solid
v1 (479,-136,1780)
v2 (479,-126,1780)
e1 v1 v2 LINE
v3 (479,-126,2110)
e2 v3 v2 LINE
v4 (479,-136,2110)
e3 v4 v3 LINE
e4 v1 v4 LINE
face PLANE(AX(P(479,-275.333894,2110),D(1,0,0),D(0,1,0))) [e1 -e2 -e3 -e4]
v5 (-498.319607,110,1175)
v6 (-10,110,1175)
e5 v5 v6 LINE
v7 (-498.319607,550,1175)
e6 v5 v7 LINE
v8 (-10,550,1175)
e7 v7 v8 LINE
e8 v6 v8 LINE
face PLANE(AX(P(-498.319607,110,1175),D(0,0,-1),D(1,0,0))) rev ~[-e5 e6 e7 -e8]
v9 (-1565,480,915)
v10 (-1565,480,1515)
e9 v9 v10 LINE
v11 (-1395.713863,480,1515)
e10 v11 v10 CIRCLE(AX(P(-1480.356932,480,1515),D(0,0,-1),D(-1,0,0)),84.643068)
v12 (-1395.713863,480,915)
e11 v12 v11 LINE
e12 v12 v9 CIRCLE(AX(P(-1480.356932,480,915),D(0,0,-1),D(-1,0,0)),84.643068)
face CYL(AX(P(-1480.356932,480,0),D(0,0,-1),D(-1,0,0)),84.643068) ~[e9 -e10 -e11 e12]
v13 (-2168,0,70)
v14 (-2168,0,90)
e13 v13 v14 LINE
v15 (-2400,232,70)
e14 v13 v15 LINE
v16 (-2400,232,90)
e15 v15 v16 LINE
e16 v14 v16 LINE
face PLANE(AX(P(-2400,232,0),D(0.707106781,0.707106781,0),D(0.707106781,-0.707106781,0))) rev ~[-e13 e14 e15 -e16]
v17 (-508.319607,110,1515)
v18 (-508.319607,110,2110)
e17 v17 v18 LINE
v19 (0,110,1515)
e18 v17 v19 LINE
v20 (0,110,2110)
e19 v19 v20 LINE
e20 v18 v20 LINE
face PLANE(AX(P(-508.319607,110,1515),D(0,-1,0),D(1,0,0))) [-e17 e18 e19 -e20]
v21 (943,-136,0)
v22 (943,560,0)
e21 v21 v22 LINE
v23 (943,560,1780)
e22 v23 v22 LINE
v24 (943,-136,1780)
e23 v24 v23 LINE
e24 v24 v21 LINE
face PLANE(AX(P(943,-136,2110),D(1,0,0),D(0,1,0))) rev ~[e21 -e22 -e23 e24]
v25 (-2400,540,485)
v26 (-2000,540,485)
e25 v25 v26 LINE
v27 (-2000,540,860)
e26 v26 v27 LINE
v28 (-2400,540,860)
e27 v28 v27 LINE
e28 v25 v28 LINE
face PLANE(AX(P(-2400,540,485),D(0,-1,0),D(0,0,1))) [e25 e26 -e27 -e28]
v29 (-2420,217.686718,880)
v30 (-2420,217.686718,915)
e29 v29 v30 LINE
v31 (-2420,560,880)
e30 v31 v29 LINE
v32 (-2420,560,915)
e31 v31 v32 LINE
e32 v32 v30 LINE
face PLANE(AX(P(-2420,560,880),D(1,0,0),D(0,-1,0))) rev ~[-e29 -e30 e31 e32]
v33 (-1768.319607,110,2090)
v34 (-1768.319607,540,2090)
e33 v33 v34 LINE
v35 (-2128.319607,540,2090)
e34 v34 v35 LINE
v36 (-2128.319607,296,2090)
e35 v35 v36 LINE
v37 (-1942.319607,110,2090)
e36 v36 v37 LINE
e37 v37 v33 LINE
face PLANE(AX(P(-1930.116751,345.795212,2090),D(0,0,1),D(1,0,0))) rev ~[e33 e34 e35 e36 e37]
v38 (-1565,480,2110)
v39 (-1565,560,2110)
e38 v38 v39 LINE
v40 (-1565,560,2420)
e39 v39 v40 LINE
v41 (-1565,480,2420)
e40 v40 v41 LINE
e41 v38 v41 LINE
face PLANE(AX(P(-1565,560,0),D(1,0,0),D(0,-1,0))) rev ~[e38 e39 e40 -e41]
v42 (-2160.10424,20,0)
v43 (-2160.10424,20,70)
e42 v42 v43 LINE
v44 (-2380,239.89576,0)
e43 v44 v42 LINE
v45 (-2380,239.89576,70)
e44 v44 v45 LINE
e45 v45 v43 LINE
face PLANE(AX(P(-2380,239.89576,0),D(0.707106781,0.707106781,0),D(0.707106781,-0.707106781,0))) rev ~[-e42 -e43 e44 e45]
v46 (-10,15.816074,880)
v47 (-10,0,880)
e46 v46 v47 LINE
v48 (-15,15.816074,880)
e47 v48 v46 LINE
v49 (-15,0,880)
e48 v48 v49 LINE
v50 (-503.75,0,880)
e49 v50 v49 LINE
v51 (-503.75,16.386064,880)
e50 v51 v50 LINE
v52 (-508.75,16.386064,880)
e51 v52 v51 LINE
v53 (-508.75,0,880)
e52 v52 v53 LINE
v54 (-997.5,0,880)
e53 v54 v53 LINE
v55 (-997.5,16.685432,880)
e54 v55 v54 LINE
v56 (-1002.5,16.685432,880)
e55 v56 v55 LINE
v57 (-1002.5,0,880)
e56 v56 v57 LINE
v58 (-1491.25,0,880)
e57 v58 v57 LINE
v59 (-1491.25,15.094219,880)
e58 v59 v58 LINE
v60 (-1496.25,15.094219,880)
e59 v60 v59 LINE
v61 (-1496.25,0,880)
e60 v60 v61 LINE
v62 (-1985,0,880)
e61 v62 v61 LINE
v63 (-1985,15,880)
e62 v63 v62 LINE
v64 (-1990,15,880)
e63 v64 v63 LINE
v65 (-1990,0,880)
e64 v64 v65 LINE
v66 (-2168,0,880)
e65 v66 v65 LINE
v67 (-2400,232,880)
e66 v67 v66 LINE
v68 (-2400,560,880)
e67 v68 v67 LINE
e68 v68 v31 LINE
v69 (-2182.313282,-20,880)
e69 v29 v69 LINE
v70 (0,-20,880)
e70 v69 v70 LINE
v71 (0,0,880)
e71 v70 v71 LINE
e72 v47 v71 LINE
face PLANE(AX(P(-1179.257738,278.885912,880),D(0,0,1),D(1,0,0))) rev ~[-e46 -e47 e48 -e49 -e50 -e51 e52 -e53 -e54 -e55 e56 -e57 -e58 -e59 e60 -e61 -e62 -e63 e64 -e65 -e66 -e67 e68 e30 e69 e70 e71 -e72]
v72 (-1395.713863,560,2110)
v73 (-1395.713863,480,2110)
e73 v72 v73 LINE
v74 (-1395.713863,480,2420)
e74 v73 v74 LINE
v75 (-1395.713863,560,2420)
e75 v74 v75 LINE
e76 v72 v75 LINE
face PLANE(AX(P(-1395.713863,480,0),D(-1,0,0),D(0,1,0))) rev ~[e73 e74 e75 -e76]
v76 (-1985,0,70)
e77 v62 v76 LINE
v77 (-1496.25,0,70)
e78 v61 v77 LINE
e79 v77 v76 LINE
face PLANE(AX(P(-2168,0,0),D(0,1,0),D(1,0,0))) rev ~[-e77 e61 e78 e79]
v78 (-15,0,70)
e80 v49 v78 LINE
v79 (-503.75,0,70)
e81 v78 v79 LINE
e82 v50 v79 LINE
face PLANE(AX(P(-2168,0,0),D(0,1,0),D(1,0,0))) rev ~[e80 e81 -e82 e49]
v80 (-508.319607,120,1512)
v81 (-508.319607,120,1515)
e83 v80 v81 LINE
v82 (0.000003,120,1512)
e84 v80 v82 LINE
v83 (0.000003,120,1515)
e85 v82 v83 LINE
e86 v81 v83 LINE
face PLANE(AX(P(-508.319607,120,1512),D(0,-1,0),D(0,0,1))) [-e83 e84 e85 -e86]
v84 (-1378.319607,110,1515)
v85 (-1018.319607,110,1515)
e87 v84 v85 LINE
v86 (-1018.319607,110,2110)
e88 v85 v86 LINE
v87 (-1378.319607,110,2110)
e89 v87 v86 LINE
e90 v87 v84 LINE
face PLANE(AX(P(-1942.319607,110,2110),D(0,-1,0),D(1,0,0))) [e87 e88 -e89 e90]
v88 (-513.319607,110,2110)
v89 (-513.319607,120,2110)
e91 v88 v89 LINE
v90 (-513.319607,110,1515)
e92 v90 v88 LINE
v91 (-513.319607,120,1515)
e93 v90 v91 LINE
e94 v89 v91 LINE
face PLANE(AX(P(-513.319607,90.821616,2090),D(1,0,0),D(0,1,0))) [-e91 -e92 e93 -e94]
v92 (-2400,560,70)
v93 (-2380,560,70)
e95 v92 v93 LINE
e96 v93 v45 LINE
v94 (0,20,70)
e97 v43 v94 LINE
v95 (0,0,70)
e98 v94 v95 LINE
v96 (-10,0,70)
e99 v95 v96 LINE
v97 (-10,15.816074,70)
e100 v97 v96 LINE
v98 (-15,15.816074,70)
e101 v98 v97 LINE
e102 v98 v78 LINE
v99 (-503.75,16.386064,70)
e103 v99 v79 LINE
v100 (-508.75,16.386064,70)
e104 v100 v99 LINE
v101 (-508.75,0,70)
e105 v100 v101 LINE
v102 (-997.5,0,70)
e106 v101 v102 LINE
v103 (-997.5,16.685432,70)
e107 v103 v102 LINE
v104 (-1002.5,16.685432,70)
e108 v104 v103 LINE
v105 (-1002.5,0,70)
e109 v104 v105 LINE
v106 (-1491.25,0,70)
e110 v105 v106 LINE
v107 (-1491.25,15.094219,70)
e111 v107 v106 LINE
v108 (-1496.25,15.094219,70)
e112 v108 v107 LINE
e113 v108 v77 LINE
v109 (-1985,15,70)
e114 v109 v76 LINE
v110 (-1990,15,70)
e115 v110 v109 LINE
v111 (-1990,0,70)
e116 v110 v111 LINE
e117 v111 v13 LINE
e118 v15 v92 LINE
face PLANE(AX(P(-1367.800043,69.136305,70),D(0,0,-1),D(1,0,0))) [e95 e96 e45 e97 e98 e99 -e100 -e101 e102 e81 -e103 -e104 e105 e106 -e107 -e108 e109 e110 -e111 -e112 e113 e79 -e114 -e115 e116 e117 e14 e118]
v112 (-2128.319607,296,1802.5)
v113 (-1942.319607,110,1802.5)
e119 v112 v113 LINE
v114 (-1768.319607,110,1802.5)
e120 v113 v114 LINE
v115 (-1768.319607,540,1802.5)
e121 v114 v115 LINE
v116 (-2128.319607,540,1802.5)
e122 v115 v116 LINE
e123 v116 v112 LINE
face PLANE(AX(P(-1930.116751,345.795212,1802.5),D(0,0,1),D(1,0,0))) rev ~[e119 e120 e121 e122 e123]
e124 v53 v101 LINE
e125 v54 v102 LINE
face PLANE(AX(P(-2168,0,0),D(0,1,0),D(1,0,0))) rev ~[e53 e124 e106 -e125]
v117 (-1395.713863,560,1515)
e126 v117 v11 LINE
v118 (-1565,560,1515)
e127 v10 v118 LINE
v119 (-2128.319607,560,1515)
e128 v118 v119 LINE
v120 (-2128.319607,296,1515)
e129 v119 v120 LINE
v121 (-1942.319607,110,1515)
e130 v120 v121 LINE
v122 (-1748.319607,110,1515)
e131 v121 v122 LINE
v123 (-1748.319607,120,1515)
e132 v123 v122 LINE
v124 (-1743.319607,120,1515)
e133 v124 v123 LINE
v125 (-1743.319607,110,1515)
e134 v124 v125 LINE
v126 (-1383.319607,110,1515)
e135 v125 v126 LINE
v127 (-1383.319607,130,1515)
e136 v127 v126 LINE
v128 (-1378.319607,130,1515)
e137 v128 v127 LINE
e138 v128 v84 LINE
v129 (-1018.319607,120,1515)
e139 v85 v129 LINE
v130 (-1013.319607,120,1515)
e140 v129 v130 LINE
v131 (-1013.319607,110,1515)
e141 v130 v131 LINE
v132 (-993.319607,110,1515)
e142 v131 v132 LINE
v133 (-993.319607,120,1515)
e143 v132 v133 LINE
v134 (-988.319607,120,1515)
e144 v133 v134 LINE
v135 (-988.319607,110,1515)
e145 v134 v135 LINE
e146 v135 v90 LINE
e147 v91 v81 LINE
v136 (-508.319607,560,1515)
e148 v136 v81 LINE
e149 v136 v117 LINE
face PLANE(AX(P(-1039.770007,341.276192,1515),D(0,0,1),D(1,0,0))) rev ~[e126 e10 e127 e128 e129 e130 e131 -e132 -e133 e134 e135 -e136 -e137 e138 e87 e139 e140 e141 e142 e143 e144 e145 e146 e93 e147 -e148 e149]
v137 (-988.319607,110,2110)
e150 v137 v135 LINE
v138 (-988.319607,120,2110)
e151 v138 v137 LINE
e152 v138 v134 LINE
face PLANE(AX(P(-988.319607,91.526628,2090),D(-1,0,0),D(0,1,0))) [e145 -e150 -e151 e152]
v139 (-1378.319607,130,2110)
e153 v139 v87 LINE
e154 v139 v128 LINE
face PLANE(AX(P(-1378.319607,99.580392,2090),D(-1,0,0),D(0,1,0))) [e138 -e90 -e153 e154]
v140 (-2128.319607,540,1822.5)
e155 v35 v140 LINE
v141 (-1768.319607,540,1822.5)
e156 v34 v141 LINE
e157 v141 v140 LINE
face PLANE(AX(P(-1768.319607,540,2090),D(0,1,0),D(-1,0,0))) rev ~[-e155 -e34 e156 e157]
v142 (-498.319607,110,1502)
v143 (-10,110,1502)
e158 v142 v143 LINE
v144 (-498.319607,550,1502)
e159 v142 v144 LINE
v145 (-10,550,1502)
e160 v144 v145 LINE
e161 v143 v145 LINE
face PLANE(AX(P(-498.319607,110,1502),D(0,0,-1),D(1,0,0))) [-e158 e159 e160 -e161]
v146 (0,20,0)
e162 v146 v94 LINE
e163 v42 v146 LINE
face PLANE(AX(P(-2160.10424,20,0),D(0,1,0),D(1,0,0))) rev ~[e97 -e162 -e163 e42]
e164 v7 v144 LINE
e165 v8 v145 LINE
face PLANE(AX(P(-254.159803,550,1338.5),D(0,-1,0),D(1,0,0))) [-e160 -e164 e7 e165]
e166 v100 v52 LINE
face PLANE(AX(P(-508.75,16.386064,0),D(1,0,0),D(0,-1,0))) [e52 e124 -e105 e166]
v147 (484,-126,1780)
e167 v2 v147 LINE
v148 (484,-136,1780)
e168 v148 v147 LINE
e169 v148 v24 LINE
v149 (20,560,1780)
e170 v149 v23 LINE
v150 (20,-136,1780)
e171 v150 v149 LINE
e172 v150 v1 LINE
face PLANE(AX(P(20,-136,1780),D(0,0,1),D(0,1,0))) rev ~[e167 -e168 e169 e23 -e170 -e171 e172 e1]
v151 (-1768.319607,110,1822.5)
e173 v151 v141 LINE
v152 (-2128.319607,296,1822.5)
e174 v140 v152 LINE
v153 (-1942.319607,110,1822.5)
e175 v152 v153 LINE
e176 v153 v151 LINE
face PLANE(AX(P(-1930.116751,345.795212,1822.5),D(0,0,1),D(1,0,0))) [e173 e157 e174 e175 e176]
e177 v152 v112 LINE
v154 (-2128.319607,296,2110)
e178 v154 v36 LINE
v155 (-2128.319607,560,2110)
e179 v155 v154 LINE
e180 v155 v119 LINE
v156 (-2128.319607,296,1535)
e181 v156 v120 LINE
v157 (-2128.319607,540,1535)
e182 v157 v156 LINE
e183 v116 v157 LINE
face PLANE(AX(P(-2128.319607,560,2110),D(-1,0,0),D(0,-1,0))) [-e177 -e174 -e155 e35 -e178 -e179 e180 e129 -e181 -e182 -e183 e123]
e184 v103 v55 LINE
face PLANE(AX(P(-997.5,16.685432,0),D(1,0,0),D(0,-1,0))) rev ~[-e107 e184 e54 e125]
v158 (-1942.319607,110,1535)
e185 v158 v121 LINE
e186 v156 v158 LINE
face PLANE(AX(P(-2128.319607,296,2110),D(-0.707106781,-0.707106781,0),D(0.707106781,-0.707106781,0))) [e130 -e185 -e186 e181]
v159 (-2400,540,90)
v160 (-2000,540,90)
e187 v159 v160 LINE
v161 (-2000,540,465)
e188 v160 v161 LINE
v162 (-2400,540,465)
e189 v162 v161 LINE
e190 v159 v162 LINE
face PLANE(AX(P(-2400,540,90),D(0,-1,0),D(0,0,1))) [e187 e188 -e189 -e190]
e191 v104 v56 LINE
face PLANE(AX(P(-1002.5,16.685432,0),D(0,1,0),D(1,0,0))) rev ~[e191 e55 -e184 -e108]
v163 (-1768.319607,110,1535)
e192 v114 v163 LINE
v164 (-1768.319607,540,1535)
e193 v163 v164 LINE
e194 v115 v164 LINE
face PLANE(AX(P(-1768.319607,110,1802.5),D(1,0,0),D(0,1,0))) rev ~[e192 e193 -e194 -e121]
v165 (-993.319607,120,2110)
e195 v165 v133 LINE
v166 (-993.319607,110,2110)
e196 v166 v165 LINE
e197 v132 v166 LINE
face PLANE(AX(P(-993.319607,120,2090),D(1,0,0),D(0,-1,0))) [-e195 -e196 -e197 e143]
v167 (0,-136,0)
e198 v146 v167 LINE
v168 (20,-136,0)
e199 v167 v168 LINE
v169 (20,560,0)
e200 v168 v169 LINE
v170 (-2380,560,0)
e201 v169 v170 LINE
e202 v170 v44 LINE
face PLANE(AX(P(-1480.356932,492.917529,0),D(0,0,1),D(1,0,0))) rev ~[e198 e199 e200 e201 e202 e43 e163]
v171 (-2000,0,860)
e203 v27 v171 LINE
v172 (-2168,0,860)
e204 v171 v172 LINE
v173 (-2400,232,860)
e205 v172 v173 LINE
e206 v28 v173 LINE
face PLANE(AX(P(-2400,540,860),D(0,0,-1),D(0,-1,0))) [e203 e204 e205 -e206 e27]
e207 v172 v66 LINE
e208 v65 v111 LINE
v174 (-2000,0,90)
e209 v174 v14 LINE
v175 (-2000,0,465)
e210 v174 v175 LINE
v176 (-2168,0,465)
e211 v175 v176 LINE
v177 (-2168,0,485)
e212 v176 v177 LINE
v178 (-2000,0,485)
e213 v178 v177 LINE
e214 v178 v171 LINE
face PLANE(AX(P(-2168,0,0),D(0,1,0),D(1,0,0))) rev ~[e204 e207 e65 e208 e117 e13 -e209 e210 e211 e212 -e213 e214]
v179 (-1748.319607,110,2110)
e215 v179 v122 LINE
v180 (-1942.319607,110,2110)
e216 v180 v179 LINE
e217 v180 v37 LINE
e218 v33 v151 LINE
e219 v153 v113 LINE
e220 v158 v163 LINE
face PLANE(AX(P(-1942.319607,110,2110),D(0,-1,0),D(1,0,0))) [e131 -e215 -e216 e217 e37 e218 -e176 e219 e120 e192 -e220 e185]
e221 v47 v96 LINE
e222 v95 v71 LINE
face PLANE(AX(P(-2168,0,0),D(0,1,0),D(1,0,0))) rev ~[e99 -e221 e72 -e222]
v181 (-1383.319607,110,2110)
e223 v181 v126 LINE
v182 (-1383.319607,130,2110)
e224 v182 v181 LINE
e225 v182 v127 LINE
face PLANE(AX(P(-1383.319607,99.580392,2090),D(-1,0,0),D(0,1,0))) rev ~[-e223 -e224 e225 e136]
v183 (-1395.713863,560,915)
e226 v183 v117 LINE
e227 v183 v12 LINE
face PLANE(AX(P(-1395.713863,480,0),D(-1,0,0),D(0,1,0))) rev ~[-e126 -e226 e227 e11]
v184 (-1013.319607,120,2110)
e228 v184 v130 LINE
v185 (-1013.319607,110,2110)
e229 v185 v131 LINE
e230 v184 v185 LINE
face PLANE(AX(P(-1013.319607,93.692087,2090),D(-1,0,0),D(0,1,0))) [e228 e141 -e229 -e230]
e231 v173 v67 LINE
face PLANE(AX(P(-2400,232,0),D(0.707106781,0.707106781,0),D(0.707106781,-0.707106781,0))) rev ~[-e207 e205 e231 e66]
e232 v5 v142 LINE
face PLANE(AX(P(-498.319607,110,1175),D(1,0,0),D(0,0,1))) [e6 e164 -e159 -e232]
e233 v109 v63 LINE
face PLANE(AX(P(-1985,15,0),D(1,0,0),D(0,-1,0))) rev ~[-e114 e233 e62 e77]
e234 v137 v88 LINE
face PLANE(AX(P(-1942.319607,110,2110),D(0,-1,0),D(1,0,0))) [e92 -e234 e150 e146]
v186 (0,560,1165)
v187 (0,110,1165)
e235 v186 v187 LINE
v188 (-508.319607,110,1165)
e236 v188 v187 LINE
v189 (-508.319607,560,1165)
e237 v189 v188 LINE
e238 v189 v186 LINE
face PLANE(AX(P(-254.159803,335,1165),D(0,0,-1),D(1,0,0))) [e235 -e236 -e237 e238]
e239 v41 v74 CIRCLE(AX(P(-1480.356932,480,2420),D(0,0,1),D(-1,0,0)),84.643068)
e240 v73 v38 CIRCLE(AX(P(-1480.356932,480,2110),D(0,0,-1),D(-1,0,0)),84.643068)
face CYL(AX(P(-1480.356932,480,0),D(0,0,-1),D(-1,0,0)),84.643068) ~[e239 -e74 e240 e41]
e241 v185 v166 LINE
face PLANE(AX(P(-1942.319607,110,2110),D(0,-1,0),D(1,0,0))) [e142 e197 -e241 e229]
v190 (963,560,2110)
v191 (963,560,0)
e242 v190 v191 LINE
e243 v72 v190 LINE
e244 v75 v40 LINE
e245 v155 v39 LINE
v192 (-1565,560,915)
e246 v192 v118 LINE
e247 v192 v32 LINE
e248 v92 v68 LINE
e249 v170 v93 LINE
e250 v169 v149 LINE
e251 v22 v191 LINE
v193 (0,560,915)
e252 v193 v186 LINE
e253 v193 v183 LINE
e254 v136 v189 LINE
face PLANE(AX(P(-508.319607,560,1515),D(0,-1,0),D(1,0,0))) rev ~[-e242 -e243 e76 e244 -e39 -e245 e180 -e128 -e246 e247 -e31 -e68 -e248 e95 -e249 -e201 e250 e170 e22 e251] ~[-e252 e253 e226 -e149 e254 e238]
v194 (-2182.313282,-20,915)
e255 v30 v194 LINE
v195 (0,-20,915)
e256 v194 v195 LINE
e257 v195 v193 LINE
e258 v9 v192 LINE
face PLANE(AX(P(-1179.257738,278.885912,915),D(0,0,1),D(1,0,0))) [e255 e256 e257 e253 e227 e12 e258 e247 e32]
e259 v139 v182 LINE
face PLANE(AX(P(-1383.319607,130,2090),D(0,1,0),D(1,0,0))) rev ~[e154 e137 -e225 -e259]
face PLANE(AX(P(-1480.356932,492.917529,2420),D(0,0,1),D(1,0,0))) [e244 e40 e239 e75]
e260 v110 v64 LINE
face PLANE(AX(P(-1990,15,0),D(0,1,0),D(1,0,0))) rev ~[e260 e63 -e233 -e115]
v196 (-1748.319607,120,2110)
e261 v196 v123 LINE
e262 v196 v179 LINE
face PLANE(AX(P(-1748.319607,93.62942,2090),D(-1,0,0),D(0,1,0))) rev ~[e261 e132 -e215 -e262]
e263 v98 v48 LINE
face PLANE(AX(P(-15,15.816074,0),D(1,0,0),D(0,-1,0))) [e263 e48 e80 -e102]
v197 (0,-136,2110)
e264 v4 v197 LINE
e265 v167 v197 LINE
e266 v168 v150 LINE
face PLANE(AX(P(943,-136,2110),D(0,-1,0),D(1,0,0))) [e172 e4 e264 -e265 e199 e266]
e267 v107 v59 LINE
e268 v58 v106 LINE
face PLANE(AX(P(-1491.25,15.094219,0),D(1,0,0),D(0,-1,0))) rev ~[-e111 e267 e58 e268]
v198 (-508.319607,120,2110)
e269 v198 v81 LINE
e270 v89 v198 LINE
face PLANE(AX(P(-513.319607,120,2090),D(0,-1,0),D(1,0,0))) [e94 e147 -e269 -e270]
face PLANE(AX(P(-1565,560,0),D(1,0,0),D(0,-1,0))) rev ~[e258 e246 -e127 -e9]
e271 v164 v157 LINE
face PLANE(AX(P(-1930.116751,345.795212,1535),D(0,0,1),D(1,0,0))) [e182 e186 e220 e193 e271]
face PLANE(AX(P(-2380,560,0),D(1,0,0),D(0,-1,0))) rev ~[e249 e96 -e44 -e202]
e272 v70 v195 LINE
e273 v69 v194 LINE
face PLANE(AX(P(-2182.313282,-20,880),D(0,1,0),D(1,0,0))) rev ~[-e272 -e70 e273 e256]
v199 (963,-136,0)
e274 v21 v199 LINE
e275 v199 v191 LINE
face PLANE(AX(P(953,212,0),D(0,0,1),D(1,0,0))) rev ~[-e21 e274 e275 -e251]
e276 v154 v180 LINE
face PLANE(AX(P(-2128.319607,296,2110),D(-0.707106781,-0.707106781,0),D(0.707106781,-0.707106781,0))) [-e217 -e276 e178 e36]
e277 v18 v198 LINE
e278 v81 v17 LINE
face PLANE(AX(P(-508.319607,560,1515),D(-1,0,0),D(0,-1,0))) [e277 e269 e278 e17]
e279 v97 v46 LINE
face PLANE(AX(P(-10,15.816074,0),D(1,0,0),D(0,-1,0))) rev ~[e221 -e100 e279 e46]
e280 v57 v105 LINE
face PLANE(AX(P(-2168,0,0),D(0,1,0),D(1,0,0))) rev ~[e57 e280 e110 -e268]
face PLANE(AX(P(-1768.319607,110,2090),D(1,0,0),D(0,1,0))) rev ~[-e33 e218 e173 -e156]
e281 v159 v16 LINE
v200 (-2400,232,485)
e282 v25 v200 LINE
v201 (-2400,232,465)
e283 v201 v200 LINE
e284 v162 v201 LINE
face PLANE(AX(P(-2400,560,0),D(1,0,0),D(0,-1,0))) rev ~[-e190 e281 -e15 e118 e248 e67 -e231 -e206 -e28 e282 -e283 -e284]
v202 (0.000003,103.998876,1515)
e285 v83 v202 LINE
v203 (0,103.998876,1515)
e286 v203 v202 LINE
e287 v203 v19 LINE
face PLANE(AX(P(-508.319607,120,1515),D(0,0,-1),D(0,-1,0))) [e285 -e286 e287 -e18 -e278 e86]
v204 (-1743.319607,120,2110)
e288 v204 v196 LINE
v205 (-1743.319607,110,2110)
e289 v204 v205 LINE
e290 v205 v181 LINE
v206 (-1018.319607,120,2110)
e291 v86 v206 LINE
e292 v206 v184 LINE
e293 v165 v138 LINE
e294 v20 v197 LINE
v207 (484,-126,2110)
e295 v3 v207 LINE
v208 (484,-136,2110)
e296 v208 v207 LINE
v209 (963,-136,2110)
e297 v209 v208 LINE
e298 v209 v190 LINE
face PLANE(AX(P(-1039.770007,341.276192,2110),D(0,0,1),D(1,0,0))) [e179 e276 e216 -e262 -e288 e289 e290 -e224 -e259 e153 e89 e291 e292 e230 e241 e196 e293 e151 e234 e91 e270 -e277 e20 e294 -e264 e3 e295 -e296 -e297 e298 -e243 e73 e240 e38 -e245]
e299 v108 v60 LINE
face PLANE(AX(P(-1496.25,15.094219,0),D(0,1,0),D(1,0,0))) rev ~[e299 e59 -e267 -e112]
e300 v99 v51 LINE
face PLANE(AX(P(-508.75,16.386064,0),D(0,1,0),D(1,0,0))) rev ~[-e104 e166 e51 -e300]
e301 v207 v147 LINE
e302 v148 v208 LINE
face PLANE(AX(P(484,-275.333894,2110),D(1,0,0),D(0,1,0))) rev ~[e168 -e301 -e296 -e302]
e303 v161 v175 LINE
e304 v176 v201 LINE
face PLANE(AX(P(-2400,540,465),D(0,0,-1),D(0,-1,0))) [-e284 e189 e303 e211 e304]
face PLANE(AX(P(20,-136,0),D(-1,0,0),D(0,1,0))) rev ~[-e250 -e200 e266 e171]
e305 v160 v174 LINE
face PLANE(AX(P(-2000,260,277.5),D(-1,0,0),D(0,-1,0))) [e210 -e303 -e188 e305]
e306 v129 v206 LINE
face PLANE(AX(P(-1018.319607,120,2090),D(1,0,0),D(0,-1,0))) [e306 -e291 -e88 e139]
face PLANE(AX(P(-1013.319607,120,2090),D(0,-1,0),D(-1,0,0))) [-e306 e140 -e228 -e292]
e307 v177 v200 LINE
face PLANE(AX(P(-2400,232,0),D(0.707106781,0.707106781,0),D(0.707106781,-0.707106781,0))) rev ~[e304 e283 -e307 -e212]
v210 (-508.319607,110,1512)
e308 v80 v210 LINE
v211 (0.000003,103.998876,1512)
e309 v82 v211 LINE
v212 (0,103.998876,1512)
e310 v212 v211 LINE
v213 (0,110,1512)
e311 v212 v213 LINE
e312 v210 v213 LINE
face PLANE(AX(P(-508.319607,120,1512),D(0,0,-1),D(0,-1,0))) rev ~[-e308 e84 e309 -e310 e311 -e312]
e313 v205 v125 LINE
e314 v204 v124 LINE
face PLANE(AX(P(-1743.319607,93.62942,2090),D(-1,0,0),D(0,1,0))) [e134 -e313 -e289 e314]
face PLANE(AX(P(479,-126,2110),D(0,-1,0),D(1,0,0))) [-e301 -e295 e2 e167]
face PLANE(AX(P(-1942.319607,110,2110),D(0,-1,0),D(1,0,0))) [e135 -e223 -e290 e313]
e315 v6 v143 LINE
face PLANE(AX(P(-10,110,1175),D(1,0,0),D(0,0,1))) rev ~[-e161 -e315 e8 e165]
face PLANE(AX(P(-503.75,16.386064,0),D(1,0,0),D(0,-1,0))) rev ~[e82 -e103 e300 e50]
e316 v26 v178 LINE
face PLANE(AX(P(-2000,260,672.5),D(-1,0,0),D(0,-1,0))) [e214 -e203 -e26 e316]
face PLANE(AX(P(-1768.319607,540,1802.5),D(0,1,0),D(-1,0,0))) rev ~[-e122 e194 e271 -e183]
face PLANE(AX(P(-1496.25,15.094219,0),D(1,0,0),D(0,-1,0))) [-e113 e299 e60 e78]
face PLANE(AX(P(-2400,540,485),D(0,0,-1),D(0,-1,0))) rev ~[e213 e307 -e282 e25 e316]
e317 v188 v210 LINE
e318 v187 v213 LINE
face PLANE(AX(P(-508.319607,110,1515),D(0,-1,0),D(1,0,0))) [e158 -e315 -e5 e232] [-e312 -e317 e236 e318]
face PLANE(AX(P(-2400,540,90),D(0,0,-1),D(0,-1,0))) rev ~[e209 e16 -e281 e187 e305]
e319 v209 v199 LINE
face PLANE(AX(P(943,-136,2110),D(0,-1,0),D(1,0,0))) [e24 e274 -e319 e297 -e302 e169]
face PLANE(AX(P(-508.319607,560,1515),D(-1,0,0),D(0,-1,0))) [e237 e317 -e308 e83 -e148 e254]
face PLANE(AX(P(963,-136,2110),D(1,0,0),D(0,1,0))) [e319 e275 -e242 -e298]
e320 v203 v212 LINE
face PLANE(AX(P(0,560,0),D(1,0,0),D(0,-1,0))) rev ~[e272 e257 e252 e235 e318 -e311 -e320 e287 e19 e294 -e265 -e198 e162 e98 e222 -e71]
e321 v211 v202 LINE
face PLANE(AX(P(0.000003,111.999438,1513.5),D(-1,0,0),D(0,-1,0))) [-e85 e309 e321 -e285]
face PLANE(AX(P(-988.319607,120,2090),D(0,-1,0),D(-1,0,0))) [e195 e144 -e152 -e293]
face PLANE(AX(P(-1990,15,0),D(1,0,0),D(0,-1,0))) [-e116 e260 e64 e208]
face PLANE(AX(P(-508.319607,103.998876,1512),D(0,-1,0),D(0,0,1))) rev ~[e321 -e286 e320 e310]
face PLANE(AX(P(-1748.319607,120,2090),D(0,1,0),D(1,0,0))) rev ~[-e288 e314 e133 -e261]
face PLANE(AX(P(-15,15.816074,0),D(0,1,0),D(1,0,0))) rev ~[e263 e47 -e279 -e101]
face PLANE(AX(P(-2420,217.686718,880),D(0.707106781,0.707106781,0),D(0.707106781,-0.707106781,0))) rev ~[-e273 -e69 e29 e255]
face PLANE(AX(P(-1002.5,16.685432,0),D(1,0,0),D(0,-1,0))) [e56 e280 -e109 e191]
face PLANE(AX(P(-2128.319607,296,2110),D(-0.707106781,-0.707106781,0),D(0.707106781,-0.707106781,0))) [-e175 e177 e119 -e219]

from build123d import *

# Parameters (mm, degrees)
F1_DEPTH  = 880
F3_DEPTH  = 35
F5_DEPTH  = 70
F8_DEPTH  = 2110
F9_W      = 696
F9_H      = 330
F10_DEPTH = 923
F11_W     = 20
F11_H     = 696
F12_DEPTH = 2110
F13_W     = 5
F13_H     = 149.3338942528
F14_DEPTH = 2110.001
F17_DEPTH = 595
F21_DEPTH = 267.5
F24_DEPTH = 267.5
F25_W     = 5
F25_H     = 26.3705801964
F25_H_2   = 30.4196077585
F25_H_3   = 29.1783836484
F26_DEPTH = 600
F27_W     = 508.3196067382
F27_H     = 450
F28_DEPTH = 350
F29_W     = 16.0011241957
F29_H     = 3
F30_DEPTH = 508.31961
F31_W     = 488.3196067382
F31_H     = 327
F32_DEPTH = 440
F33_W     = 560
F33_H     = 375
F34_DEPTH = 400
F35_W     = 5
F35_H     = 19.7571682371
F35_H_2   = 24.0503801033
F35_H_3   = 23.9126509987
F35_H_4   = 22.7143368684
F35_H_5   = 21.7149001546
F36_DEPTH = 880
F38_DEPTH = 2420


with BuildPart() as f1:
    # F0 (on Top) → F1 (new body)
    with BuildSketch(Plane.XY):
        Polygon((-2168, 0), (0, 0), (0, 560), (-1800, 560), (-2400, 560), (-2400, 232), align=None)
    extrude(amount=F1_DEPTH)

    # F4 (on face) → F5 (cut)
    with BuildSketch(Plane(origin=(0, 0, 0), x_dir=(1, 0, 0), z_dir=(0, 0, -1))):
        Polygon((-2400, -560), (-2380, -560), (-2380, -239.8957603676), (-2160.1042396324, -20), (0, -20), (0, 0), (-2168, 0), (-2400, -232), align=None)
    extrude(amount=-F5_DEPTH, mode=Mode.SUBTRACT)


with BuildPart() as f3:
    # F2 (on face) → F3 (new body)
    with BuildSketch(Plane.XY.offset(880)):
        Polygon((0, -20), (0, 560), (-2420, 560), (-2420, 217.6867183745), (-2182.3132816255, -20), align=None)
    extrude(amount=F3_DEPTH)


with BuildPart() as f1_1:
    add(f1.part)

    # F6: union F3
    add(f3.part)

    # F7 (on Top) → F8 (join)
    with BuildSketch(Plane.XY):
        Polygon((0, 560), (0, 20), (0, 0), (0, -20), (0, -136), (20, -136), (20, 560), align=None)
    extrude(amount=F8_DEPTH)

    # F9 (on face) → F10 (join)
    with BuildSketch(Plane.YZ.offset(20)):
        with Locations((212, 1945)):
            Rectangle(F9_W, F9_H)
    extrude(amount=F10_DEPTH)

    # F11 (on face) → F12 (join)
    with BuildSketch(Plane.XY.offset(2110)):
        with Locations((953, 212)):
            Rectangle(F11_W, F11_H)
    extrude(amount=-F12_DEPTH)

    # F13 (on face) → F14 (cut, through all)
    with BuildSketch(Plane.XY.offset(2110)):
        with Locations((481.5, -200.6669471264)):
            Rectangle(F13_W, F13_H)
    extrude(amount=-F14_DEPTH, mode=Mode.SUBTRACT)


with BuildPart() as f17:
    # F16 (on offset) → F17 (new body)
    with BuildSketch(Plane.XY.offset(2110)):
        Polygon((0, 110), (0, 560), (-2128.3196067382, 560), (-2128.3196067382, 296), (-1942.3196067382, 110), align=None)
    extrude(amount=-F17_DEPTH)


with BuildPart() as f1_2:
    add(f1_1.part)

    # F18: union F17
    add(f17.part)

    # F20 (on offset) → F21 (cut)
    with BuildSketch(Plane.XY.offset(2090)):
        Polygon((-2128.3196067382, 296), (-1942.3196067382, 110), (-1768.3196067382, 110), (-1768.3196067382, 540), (-2128.3196067382, 540), align=None)
    extrude(amount=-F21_DEPTH, mode=Mode.SUBTRACT)

    # F23 (on offset) → F24 (cut)
    with BuildSketch(Plane.XY.offset(1802.5)):
        Polygon((-1768.3196067382, 540), (-2128.3196067382, 540), (-2128.3196067382, 296), (-1942.3196067382, 110), (-1768.3196067382, 110), align=None)
    extrude(amount=-F24_DEPTH, mode=Mode.SUBTRACT)

    # F25 (on offset) → F26 (cut, symmetric)
    with BuildSketch(Plane.XY.offset(2090)):
        with Locations((-1745.8196067382, 106.8147099018)):
            Rectangle(F25_W, F25_H)
        with Locations((-1380.8196067382, 114.7901961207)):
            Rectangle(F25_W, F25_H_2)
        Polygon((-993.3196067382, 120), (-993.3196067382, 110), (-993.3196067382, 91.5266275406), (-988.3196067382, 91.5266275406), (-988.3196067382, 120), align=None)
        Polygon((-1013.3196067382, 120), (-1018.3196067382, 120), (-1018.3196067382, 93.692086637), (-1013.3196067382, 93.692086637), (-1013.3196067382, 110), align=None)
        with Locations((-510.8196067382, 105.4108081758)):
            Rectangle(F25_W, F25_H_3)
    extrude(amount=F26_DEPTH, both=True, mode=Mode.SUBTRACT)

    # F27 (on face) → F28 (join)
    with BuildSketch(Plane(origin=(0, 0, 1515), x_dir=(1, 0, 0), z_dir=(0, 0, -1))):
        with Locations((-254.1598033691, -335)):
            Rectangle(F27_W, F27_H)
    extrude(amount=F28_DEPTH)

    # F29 (on face) → F30 (cut)
    with BuildSketch(Plane(origin=(-508.3196067382, 0, 0), x_dir=(0, -1, 0), z_dir=(-1, 0, 0))):
        with Locations((-111.9994379021, 1513.5)):
            Rectangle(F29_W, F29_H)
    extrude(amount=-F30_DEPTH, mode=Mode.SUBTRACT)

    # F31 (on face) → F32 (cut)
    with BuildSketch(Plane.XZ.offset(-110)):
        with Locations((-254.1598033691, 1338.5)):
            Rectangle(F31_W, F31_H)
    extrude(amount=-F32_DEPTH, mode=Mode.SUBTRACT)

    # F33 (on face) → F34 (cut)
    with BuildSketch(Plane(origin=(-2400, 0, 0), x_dir=(0, -1, 0), z_dir=(-1, 0, 0))):
        with Locations((-260, 672.5)):
            Rectangle(F33_W, F33_H)
        with Locations((-260, 277.5)):
            Rectangle(F33_W, F33_H)
    extrude(amount=-F34_DEPTH, mode=Mode.SUBTRACT)

    # F35 (on face) → F36 (cut)
    with BuildSketch(Plane(origin=(0, 0, 0), x_dir=(1, 0, 0), z_dir=(0, 0, -1))):
        with Locations((-1987.5, -5.1214158814)):
            Rectangle(F35_W, F35_H)
        with Locations((-1493.75, -3.069028724)):
            Rectangle(F35_W, F35_H_2)
        with Locations((-1000, -4.7291063238)):
            Rectangle(F35_W, F35_H_3)
        with Locations((-12.5, -4.4589054305)):
            Rectangle(F35_W, F35_H_4)
        with Locations((-506.25, -5.5286136921)):
            Rectangle(F35_W, F35_H_5)
    extrude(amount=-F36_DEPTH, mode=Mode.SUBTRACT)

    # F37 (on Top) → F38 (join)
    with BuildSketch(Plane.XY):
        with BuildLine():
            Line((-1395.7138633728, 560), (-1565, 560))
            Line((-1565, 560), (-1565, 480))
            ThreePointArc((-1565, 480), (-1480.3569316864, 395.3569316864), (-1395.7138633728, 480))
            Line((-1395.7138633728, 480), (-1395.7138633728, 560))
        make_face()
    extrude(amount=F38_DEPTH)


solid = f1_2.part
